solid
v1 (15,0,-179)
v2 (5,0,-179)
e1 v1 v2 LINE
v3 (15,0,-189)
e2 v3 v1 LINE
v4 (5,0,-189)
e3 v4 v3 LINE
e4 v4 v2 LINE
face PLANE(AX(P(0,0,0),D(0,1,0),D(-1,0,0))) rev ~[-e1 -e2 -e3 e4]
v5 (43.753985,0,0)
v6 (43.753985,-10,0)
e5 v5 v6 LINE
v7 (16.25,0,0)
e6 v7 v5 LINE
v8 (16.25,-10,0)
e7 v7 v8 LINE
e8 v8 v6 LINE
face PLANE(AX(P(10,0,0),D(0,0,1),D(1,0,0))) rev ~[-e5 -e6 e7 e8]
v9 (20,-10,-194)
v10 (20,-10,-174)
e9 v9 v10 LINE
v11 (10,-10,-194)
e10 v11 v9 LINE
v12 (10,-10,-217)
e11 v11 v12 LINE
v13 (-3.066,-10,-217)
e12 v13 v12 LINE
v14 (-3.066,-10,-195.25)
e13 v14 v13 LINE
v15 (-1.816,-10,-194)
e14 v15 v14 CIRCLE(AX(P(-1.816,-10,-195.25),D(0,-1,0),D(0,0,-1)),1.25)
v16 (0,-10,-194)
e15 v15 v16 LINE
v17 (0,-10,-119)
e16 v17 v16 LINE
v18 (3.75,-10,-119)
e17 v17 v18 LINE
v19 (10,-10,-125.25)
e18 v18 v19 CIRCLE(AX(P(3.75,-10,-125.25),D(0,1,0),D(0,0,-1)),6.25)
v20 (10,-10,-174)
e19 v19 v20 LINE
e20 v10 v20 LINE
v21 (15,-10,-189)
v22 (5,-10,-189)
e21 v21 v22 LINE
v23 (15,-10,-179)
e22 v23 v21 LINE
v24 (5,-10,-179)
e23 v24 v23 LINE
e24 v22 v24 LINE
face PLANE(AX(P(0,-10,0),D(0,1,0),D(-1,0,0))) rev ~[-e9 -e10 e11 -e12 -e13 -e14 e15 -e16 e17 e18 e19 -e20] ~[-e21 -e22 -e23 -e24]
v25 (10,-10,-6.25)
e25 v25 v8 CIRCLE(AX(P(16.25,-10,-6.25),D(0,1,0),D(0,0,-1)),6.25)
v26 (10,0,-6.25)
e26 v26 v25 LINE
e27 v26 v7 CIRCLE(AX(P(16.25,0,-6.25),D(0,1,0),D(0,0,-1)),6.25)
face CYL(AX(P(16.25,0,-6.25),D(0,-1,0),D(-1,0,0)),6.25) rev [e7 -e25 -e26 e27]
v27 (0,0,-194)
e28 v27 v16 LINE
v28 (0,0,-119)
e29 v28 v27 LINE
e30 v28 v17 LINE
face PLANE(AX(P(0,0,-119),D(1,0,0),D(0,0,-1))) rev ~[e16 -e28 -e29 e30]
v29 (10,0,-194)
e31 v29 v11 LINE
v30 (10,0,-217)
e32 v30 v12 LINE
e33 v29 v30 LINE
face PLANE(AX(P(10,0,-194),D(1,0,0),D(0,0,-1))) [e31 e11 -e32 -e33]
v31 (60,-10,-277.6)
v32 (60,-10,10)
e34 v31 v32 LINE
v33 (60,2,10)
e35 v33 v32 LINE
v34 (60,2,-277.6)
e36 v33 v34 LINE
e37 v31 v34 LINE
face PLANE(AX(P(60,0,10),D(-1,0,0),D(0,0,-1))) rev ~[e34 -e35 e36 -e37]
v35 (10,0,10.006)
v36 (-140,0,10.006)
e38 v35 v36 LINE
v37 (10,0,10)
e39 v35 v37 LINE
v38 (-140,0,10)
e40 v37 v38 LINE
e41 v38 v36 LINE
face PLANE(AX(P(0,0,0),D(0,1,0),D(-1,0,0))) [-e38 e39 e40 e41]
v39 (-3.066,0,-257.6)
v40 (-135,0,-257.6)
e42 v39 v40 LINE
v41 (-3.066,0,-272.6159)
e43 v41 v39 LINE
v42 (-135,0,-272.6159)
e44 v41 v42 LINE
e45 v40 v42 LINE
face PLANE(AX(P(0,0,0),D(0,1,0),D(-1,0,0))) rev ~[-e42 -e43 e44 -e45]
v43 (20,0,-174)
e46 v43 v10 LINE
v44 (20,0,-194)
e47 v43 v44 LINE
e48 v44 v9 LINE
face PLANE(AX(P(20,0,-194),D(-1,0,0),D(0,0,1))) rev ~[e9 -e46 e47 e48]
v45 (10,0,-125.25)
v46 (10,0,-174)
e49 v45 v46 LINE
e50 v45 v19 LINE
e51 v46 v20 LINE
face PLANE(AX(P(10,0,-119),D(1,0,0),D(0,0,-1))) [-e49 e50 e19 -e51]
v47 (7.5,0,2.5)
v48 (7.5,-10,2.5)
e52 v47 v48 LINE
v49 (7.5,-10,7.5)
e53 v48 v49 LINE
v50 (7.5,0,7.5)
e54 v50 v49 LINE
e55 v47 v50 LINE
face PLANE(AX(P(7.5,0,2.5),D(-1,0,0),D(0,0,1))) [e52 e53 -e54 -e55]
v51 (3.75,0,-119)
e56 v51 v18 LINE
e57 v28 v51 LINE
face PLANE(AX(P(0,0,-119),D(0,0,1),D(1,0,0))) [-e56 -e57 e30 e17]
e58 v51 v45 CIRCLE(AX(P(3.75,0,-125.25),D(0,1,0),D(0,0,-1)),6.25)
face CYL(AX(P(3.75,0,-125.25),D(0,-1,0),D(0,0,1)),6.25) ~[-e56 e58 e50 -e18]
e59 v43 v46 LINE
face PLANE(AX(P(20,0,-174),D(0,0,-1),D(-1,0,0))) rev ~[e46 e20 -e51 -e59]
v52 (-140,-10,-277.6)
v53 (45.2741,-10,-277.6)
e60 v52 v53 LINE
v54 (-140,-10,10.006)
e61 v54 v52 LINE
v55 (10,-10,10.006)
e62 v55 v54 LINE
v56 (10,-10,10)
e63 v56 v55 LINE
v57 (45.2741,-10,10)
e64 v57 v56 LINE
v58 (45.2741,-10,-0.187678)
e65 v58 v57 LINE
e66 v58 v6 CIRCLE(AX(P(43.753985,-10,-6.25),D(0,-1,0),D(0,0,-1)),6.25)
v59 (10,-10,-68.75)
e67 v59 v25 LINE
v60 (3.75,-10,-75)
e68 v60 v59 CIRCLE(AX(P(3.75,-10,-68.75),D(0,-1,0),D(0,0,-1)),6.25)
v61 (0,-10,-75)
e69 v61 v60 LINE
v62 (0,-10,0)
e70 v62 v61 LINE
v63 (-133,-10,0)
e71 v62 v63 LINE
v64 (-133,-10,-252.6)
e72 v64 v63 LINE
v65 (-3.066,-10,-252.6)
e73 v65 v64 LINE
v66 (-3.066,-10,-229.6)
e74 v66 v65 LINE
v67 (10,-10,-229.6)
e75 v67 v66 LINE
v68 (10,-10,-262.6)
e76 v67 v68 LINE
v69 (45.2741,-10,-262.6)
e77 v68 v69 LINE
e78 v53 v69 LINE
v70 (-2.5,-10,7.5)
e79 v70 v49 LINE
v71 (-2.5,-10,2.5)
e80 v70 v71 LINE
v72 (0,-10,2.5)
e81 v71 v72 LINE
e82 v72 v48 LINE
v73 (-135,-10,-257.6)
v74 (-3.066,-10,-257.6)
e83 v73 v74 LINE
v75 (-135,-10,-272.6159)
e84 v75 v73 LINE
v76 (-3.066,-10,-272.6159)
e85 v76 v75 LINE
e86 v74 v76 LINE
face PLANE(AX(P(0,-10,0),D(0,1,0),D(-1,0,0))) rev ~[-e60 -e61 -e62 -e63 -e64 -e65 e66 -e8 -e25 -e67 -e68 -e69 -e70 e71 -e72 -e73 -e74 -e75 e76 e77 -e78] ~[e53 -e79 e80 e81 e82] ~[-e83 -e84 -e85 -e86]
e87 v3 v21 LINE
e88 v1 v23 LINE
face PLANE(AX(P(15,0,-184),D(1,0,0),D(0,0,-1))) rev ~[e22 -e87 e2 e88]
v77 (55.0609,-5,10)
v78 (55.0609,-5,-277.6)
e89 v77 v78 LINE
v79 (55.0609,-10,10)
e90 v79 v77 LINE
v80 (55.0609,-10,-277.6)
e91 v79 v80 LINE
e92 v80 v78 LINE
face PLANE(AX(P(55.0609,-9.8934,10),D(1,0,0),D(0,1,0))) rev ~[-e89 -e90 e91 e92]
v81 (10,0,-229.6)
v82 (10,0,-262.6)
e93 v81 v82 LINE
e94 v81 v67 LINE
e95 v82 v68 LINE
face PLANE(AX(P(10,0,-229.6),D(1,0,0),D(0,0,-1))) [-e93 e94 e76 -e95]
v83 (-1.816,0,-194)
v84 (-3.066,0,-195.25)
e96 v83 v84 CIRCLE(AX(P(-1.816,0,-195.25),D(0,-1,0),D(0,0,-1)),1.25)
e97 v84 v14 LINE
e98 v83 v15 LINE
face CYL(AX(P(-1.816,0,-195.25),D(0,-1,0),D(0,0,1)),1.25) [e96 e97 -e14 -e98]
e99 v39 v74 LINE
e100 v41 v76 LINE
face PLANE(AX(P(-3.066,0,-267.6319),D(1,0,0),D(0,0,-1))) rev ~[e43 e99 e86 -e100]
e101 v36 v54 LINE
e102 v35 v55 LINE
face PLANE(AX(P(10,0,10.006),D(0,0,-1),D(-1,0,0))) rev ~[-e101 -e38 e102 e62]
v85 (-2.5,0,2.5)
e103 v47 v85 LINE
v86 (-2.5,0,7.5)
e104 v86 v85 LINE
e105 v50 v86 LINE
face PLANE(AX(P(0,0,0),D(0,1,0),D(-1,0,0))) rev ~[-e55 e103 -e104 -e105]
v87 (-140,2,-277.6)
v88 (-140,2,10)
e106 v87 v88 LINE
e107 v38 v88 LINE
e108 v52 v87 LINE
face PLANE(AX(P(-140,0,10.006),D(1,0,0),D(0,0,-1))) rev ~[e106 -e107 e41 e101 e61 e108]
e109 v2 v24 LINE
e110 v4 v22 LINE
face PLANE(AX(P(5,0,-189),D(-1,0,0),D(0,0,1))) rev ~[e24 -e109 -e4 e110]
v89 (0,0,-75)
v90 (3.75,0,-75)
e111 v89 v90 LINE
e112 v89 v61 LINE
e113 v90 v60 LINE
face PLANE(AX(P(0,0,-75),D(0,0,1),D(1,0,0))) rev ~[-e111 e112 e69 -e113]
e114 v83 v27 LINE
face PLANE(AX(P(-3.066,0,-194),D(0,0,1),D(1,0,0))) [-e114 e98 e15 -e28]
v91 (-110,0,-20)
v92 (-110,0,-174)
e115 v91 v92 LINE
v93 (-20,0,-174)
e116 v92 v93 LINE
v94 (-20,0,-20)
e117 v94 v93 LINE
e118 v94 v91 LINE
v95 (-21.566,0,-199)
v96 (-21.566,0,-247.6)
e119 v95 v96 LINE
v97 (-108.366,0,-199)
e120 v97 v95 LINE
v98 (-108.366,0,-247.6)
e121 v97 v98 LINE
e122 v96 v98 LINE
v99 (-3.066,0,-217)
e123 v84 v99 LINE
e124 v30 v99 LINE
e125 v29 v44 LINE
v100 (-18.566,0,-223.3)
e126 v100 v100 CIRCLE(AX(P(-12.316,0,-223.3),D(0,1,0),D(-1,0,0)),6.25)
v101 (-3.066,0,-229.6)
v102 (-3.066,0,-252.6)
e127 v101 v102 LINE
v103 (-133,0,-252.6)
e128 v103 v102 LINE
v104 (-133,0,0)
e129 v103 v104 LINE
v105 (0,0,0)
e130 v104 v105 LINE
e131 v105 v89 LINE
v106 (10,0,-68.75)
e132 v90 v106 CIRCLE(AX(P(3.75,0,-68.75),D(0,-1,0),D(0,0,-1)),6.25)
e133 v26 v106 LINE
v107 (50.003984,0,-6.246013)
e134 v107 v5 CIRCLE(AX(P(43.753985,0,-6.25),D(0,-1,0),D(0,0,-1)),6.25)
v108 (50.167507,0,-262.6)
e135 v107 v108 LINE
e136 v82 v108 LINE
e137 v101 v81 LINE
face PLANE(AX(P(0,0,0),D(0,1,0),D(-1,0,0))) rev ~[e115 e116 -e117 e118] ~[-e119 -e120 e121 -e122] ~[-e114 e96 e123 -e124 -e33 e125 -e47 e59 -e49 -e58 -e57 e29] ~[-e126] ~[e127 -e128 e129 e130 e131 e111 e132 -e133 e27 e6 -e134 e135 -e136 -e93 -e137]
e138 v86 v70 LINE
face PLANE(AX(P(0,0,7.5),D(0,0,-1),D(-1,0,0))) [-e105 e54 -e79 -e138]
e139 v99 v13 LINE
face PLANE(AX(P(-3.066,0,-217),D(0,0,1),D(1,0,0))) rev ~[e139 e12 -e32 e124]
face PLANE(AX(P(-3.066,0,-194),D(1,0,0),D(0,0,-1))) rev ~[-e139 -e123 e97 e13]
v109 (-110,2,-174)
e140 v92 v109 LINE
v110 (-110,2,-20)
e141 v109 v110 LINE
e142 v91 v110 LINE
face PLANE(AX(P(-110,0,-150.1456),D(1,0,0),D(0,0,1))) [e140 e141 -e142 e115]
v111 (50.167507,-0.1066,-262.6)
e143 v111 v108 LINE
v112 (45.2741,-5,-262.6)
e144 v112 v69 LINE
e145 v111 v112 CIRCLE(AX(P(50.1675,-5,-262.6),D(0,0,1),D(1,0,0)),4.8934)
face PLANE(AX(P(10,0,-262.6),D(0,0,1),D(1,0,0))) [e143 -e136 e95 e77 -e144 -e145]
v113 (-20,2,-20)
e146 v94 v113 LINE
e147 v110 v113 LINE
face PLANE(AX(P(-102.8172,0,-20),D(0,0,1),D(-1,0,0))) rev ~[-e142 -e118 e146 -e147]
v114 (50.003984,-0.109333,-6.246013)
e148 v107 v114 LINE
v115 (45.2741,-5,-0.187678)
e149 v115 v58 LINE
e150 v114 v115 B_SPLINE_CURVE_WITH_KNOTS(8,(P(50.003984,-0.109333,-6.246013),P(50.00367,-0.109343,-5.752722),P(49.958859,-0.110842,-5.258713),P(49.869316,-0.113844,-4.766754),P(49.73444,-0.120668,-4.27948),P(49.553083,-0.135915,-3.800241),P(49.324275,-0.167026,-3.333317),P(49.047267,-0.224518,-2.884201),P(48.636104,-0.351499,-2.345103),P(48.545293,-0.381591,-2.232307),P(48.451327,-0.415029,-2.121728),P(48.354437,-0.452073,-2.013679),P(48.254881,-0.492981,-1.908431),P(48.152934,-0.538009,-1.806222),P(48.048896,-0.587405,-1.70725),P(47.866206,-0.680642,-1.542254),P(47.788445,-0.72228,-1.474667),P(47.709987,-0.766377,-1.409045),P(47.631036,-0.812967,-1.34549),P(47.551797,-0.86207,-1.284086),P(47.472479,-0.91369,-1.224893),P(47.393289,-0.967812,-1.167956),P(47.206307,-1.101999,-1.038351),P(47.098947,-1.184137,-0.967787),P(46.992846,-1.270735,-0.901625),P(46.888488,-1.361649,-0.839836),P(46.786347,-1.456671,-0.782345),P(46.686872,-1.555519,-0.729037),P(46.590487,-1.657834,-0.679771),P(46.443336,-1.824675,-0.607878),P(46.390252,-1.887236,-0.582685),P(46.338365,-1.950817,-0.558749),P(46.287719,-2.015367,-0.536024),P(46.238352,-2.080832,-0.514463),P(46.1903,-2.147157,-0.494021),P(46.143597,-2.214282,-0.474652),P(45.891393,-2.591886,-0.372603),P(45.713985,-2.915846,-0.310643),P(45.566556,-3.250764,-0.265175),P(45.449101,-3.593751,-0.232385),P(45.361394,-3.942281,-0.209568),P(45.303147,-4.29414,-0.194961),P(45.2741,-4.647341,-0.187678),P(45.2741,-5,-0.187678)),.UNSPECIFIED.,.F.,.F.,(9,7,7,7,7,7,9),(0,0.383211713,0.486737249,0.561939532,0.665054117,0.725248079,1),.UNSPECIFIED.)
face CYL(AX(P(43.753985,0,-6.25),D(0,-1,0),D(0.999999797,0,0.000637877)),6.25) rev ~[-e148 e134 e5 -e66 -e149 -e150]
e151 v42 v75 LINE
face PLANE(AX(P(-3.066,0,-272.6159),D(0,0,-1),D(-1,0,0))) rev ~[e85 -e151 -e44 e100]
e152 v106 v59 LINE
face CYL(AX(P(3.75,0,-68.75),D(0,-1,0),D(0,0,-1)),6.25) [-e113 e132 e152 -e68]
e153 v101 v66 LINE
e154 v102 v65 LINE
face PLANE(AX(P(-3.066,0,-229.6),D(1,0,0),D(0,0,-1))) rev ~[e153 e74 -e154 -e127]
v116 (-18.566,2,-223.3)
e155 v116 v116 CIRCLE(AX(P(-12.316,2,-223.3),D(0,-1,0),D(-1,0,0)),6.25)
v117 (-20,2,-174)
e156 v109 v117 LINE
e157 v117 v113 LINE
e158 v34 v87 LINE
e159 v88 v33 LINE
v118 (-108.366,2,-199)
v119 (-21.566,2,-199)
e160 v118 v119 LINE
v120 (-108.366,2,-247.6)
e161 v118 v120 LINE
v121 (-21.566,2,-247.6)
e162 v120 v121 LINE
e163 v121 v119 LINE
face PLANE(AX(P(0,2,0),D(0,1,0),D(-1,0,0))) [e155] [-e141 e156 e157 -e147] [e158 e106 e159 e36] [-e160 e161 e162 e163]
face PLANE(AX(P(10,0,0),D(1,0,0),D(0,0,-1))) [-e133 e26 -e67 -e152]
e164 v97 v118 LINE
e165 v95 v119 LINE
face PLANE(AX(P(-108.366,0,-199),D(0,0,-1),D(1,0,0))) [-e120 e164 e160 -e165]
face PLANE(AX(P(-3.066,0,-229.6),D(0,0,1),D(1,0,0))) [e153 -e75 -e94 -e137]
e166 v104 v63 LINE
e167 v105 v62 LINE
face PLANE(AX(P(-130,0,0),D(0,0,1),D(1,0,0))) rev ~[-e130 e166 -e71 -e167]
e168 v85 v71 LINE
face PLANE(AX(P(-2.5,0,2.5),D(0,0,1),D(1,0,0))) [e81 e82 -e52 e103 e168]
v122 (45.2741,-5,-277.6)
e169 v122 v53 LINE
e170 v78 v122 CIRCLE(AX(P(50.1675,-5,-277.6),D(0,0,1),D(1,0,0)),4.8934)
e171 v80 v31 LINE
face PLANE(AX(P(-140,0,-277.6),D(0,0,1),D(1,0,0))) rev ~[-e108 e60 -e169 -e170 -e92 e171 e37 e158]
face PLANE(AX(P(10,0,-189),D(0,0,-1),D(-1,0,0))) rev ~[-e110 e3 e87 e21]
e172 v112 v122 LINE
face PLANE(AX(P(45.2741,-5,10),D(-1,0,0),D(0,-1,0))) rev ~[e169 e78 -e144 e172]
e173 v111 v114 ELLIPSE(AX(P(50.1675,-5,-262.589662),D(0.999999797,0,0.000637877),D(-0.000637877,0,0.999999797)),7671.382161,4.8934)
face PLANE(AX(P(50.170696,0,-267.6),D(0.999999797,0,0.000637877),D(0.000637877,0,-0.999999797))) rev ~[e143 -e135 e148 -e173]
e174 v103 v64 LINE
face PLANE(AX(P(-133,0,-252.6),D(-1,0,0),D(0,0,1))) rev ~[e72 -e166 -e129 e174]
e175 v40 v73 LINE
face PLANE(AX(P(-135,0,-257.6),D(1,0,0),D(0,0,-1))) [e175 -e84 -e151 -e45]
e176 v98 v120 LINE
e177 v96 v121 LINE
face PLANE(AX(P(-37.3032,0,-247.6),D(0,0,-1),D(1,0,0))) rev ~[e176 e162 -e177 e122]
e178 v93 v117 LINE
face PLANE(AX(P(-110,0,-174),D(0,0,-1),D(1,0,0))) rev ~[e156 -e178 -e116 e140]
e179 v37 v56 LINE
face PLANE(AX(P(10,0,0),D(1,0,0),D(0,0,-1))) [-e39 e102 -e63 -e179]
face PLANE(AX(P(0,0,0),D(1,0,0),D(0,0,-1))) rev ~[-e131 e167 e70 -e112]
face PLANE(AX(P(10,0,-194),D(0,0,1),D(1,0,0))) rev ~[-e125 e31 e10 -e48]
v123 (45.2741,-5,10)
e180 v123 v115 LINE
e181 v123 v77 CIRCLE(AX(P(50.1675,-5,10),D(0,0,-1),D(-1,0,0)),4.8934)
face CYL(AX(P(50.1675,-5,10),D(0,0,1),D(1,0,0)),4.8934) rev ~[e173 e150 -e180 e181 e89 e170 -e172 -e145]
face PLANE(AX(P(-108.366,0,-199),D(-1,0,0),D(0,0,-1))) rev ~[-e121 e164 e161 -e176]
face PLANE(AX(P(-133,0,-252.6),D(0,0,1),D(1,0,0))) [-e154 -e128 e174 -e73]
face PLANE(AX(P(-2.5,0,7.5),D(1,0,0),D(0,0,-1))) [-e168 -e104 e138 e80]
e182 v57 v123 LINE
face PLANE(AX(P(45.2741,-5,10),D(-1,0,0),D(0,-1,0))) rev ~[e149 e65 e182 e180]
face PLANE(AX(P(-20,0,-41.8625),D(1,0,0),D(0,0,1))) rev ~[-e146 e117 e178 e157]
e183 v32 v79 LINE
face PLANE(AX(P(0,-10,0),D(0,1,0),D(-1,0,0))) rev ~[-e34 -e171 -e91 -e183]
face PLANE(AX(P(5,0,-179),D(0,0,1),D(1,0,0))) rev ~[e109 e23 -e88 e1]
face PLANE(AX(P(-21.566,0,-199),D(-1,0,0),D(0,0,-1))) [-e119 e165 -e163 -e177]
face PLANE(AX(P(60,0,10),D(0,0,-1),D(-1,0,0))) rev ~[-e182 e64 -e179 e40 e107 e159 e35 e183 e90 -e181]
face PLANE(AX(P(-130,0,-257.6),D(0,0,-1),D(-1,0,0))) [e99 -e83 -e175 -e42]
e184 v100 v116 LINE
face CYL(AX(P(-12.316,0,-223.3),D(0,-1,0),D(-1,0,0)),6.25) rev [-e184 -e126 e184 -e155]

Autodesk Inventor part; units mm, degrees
ref_plane "YZ Plane" through (0, 0, 0) normal (1, 0, 0) x (0, 1, 0)
ref_plane "XZ Plane" through (0, 0, 0) normal (0, 1, 0) x (-1, 0, 0)
ref_plane "XY Plane" through (0, 0, 0) normal (0, 0, 1) x (1, 0, 0)
sketch "Sketch1" plane through (0, 0, 0) normal (0, 1, 0) x (-1, 0, 0)
  line L0 (0, 0) -> (0, -194)
  line L1 (0, -194) -> (130, -194)
  line L2 (130, -194) -> (130, 0)
  line L3 (130, 0) -> (0, 0)
  line L4 (0, -194) -> (123.8, -194)
  line L5 (126.866, -194) -> (126.866, -252.6)
  line L6 (126.866, -252.6) -> (3.066, -252.6)
  line L7 (3.066, -252.6) -> (3.066, -194)
  line L8 (140, 0) -> (140, -262.6)
  line L9 (140, -262.6) -> (0, -262.6)
  line L10 (140, 0) -> (140, 10)
  line L11 (-10, 0) -> (-10, -262.6)
  line L12 (-10, -262.6) -> (3.066, -262.6)
  line L13 (140, 10) -> (-10, 10)
  line L14 (-10, 10) -> (-10, 0)
  line L15 (-10, 10) -> (-60, 10)
  line L16 (-60, 10) -> (-60, -262.6)
  line L17 (-60, -262.6) -> (-10, -262.6)
  line L18 (108.366, -194) -> (108.366, -247.6)
  line L19 (21.566, -199) -> (21.566, -247.6)
  line L20 (110, -150.1456) -> (110, -20)
  line L21 (110, -174) -> (20, -174)
  line L22 (110, -174) -> (110, -150.1456)
  line L23 (102.8172, -20) -> (110, -20)
  line L24 (102.8172, -20) -> (20, -20)
  line L25 (20, -41.8625) -> (20, -20)
  line L26 (20, -41.8625) -> (20, -174)
  line L27 (21.566, -199) -> (21.566, -200.5)
  line L28 (108.366, -199) -> (21.566, -199)
  line L29 (108.366, -252.6) -> (108.366, -247.6)
  line L30 (108.366, -247.6) -> (21.566, -247.6)
  line L31 (21.566, -194) -> (12.316, -194)
  line L32 (12.316, -217.05) -> (12.316, -223.3)
  circle A0 centre (12.316, -223.3) radius 6.25
  line L33 (130, -194) -> (130, -252.6)
  line L34 (130, -252.6) -> (126.866, -252.6)
  line L35 (0, -194) -> (0, -252.6)
  line L36 (0, -252.6) -> (3.066, -252.6)
  line L37 (102.8172, -247.6) -> (102.8172, -267.6)
  line L38 (102.8172, -267.6) -> (140, -267.6)
  line L39 (140, -267.6) -> (140, -262.6)
  line L40 (102.8172, -267.6) -> (0, -267.6)
  line L41 (0, -267.6) -> (0, -252.6)
  line L42 (130, -252.6) -> (130, -267.6)
  line L43 (126.866, -252.6) -> (126.866, -267.6)
  line L44 (3.066, -252.6) -> (3.066, -267.6)
  line L45 (3.066, -194) -> (3.066, -217)
  line L46 (3.066, -252.6) -> (3.066, -229.6)
  line L47 (3.066, -217) -> (0, -217)
  line L48 (3.066, -229.6) -> (0, -229.6)
  line L49 (0, -217) -> (-10, -217)
  line L50 (0, -229.6) -> (-10, -229.55)
  line L51 (0, -267.6) -> (-60, -267.6)
  line L52 (-60, -267.6) -> (-60, -262.6)
  line L53 (-10, -262.6) -> (-10, -267.6)
  line L54 (-10, -194) -> (-20, -194)
  line L55 (-20, -194) -> (-20, -174)
  line L56 (-20, -174) -> (-10, -174)
  line L57 (-10, 0) -> (-10, -10)
  line L58 (-10, -10) -> (-20, -10)
  line L59 (-20, -10) -> (-20, 0)
  line L60 (37.3032, -247.6) -> (37.3032, -277.6)
  line L61 (37.3032, -277.6) -> (-60, -277.6)
  line L62 (-60, -277.6) -> (-60, -267.6)
  line L63 (140, -267.6) -> (140, -277.6)
  line L64 (140, -277.6) -> (37.3032, -277.6)
  dimension "d18" = 12.5
  dimension "d0" = 194
  dimension "d1" = 130
  dimension "d2" = 123.8
  dimension "d3" = 58.6
  dimension "d4" = 10
  dimension "d5" = 262.6
  dimension "d6" = 10
  dimension "d7" = 10
  dimension "d8" = 50
  dimension "d14" = 6.5
  dimension "d15" = 5
  dimension "d16" = 5
  dimension "d17" = 9.25
  dimension "d19" = 20
  dimension "d29" = 23
  dimension "d30" = 23
  dimension "d46" = 10
  dimension "d47" = 10
  dimension "d55" = 30
sketch "Sketch2" plane through (0, 0, 0) normal (0, 1, 0) x (-1, 0, 0)
  line L0 (0, 0) -> (0, -194)
  line L1 (0, -194) -> (0, -109)
  line L2 (0, 0) -> (0, -75)
  line L3 (0, -194) -> (0, -119)
  line L4 (0, -119) -> (-10, -119)
  line L5 (-10, -119) -> (-10, -194)
  line L6 (-10, -194) -> (0, -194)
  line L7 (0, -75) -> (-10, -75)
  line L8 (0, 0) -> (-10, 0)
  line L9 (-10, 0) -> (-10, -75)
  line L10 (-10, -262.6) -> (0, -262.6)
  line L11 (0, -262.6) -> (0, -194)
  line L12 (-10, -194) -> (-10, -262.6)
  line L13 (0, -194) -> (0, -262.6)
  line L14 (0, -262.6) -> (3.066, -262.6)
  line L15 (3.066, -262.6) -> (3.066, -252.6)
  line L16 (3.066, -252.6) -> (0, -252.6)
  line L17 (0, -252.6) -> (0, -194)
  line L18 (3.066, -194) -> (3.066, -252.6)
  line L19 (3.066, -252.6) -> (3.066, -224.05)
  line L20 (3.066, -252.6) -> (3.066, -229.6)
  line L21 (3.066, -194) -> (3.066, -217)
  line L22 (3.066, -217) -> (0, -217)
  line L23 (3.066, -229.6) -> (0, -229.6)
  line L24 (0, -217) -> (-10, -217)
  line L25 (0, -229.6) -> (-10, -229.6)
  line L26 (3.066, -252.6) -> (126.866, -252.6)
  line L27 (126.866, -252.6) -> (126.866, -262.6)
  line L28 (126.866, -262.6) -> (3.066, -262.6)
  line L29 (3.066, -252.6) -> (3.066, -262.6)
  line L30 (126.866, -252.6) -> (130, -252.6)
  line L31 (130, -252.6) -> (130, -262.6)
  line L32 (130, -262.6) -> (126.866, -262.6)
  line L33 (130, -252.6) -> (130, 0)
  line L34 (130, 0) -> (0, 0)
  line L35 (130, 0) -> (140, 0)
  line L36 (140, 0) -> (140, -194)
  line L37 (140, -194) -> (140, -252.6)
  line L38 (140, -252.6) -> (130, -252.6)
  line L39 (140, -267.6319) -> (140, -252.6)
  line L40 (140, -267.6319) -> (-10, -267.6319)
  line L41 (-10, -267.6319) -> (-10, -229.6)
  line L42 (-10, 10.006) -> (140, 10.006)
  line L43 (140, 10.006) -> (140, 0)
  line L44 (-10, 10.006) -> (-10, 0)
  line L45 (-10, -75) -> (-10, 0)
  line L46 (0, 0) -> (-10, 0)
  line L47 (0, 0) -> (0, -75)
  line L48 (-10, -75) -> (0, -75)
  line L49 (0, -119) -> (-10, -119)
  line L50 (-10, -194) -> (0, -194)
  line L51 (0, -119) -> (0, -194)
  line L52 (-10, -194) -> (-10, -119)
  line L53 (3.066, -194) -> (0, -194)
  line L54 (3.066, -194) -> (3.066, -217)
  line L55 (-10, -217) -> (3.066, -217)
  line L56 (-10, -217) -> (-10, -194)
  line L57 (-10, -229.6) -> (-10, -267.6319)
  line L58 (3.066, -267.6319) -> (3.066, -229.6)
  line L59 (3.066, -229.6) -> (-9.4866, -229.6)
  line L60 (0, -194) -> (0, 0)
  line L61 (-10, -194) -> (-20, -194)
  line L62 (-20, -194) -> (-20, -184)
  line L63 (-20, -184) -> (-10, -184)
  line L64 (-20, -184) -> (-20, -174)
  line L65 (-20, -174) -> (-10, -174)
  line L66 (-10, -184) -> (-10, -189)
  line L67 (-5, -189) -> (-5, -179)
  line L68 (-5, -179) -> (-15, -179)
  line L69 (-15, -179) -> (-15, -189)
  line L70 (-15, -189) -> (-5, -189)
  line L71 (0, 0) -> (0, 2.5)
  line L72 (0, 2.5) -> (-7.5, 2.5)
  line L73 (-7.5, 2.5) -> (-7.5, 7.5)
  line L74 (-7.5, 7.5) -> (0, 7.5)
  line L75 (0, 7.5) -> (2.5, 7.5)
  line L76 (2.5, 7.5) -> (2.5, 2.5)
  line L77 (2.5, 2.5) -> (0, 2.5)
  line L78 (-10, -282.6) -> (-10, -267.6319)
  line L79 (50.7455, -277.6) -> (-5, -277.6)
  line L80 (-5, -277.6) -> (-5, -257.6)
  line L81 (-5, -257.6) -> (50.7455, -257.6)
  line L82 (50.7455, -257.6) -> (135, -257.6)
  line L83 (135, -257.6) -> (135, -277.6)
  line L84 (135, -277.6) -> (50.7455, -277.6)
  line L85 (140, -277.6) -> (-60, -277.6)
  line L86 (-60, -277.6) -> (-60, -262.6)
  line L87 (-10, -262.6) -> (-60, -262.6)
  line L88 (140, -277.6) -> (140, -267.6319)
  line L89 (3.066, -267.6319) -> (3.066, -272.6159)
  line L90 (3.066, -272.6159) -> (135, -272.6159)
  line L91 (130, -252.6) -> (133, -252.6)
  line L92 (133, -252.6) -> (133, 0)
  line L93 (133, 0) -> (130, 0)
  point P0 (-10, -277.6)
  point P1 (135, -267.6319)
  point P2 (-5, -267.6319)
  point P3 (3.066, -257.6)
  dimension "d22" = 75
  dimension "d23" = 75
  dimension "d24" = 10
  dimension "d25" = 262.6
  dimension "d27" = 23
  dimension "d28" = 23
  dimension "d48" = 10
  dimension "d49" = 10
  dimension "d50" = 10
  dimension "d51" = 2.5
  dimension "d52" = 7.5
  dimension "d53" = 5
  dimension "d54" = 2.5
  dimension "d67" = 3
extrude "Extrusion1" add sketch "Sketch2" against normal blind 10 contours L0 L7 L9 L8 | L8 L44 L42 L43 L35 L34 | L31 L82 L27 L30 | L38 L39 L40 L83 L82 L31 | L35 L36 L37 L38 L92 | L0 L6 L5 L70 L67 L68 L4 | L27 L82 L81 L15 L26 | L11 L24 L12 L6 | L53 L18 L22 L11 | L15 L81 L11 L16 | L16 L11 L23 L18 | L61 L62 L63 L69 L70 L5 | L5 L68 L69 L63 L64 L65 | L15 L14 L11 L81 | L11 L81 L80 L10 L12 L25 | L40 L88 L85 L83 | L58 L40 L80 L10 L14 | L11 L10 L80 L81 | L89 L90 L83 L84 L79 L80 L40 | L80 L85 L78 L40 | L40 L41 L10 L80 | L41 L78 L85 L86 L87
extrude "Extrusion2" add sketch "Sketch1" along normal blind 2 contours L3 L2 L1 L0 | L0 L35 L49 L11 L14 L13 L10 L8 L9 L42 L33 L2 L3 | L1 L7 L47 L35 | L1 L18 L28 L19 L30 L60 L6 L7 | L47 L7 L48 L35 | L35 L50 L11 L49 | L33 L34 L5 L1 | L48 L7 L36 L35 | L35 L41 L12 L11 L50 | L11 L17 L16 L15 L14 L56 L55 L54 | L5 L6 L29 L18 L1 | L42 L9 L43 L34 | L36 L44 L9 L41 | L54 L55 L56 L11 | L43 L9 L37 L6 | L42 L38 L43 L9 | L9 L39 L38 L42 | L6 L60 L9 L44 | L41 L51 L53 L12 | L9 L44 L40 L41 | L53 L51 L52 L17 | L6 L37 L30 L29 | L43 L38 L37 L9 | L38 L63 L64 L60 L40 | L60 L30 L37 L6 | L6 L37 L9 L60 | L9 L60 L40 L44 | L40 L60 L61 L62 L51 | L37 L40 L60 L9
sketch "Sketch3" plane through (0, 0, 0) normal (0, -1, 0) x (1, 0, 0)
  line L0 (10, -262.6) -> (10, -194) projected
  line L1 (60, -267.6) -> (-140, -267.6) projected
  line L2 (10, -267.6319) -> (60, -267.6)
  line L3 (60, 10) -> (60, -267.6) projected
  line L4 (60, -267.6) -> (60, 10)
  line L5 (10, 10) -> (10, -75) projected
  line L6 (60, 10) -> (10, 10)
  line L7 (10, 10) -> (10, 0)
  line L8 (10, 0) -> (60, 0)
  line L9 (60, 0) -> (50, 0)
  line L10 (50, 0) -> (50.1707, -267.6063)
  line L11 (50.1707, -267.6063) -> (50.1643, -257.6063)
  line L12 (50.1643, -257.6063) -> (10, -257.6319)
  line L13 (50.1643, -257.6063) -> (60, -257.6063)
  point P0 (0, 0)
  point P1 (10, -229.6)
  point P2 (10, -267.6)
  point P3 (50.1707, -267.6)
  dimension "d35" = 10
  dimension "d36" = 10
extrude "Extrusion3" add sketch "Sketch3" along normal blind 10
fillet "Fillet2" radius 6.25 4 edges at (10, -5, -75) (10, -5, -119) (10, -5, 0) (50, -5, 0)
fillet "Fillet3" radius 1.25 1 edges at (-3.066, -5, -194)
sketch "Sketch8" plane through (-140, 2, 10) normal (0, 0, 1) x (1, 0, 0)
  line L0 (190.1675, -12) -> (190.1675, -2) projected
  circle A0 centre (190.1675, -7) radius 4.8934
  line L1 (185.2741, -7) -> (185.2741, -11.8934)
  line L2 (185.2741, -11.8934) -> (195.0609, -11.8934)
  line L3 (195.0609, -11.8934) -> (195.0609, -7)
  line L4 (185.2741, -11.8934) -> (185.2741, -12.5715)
  line L5 (185.2741, -12.5715) -> (195.0609, -12.5715)
  line L6 (195.0609, -12.5715) -> (195.0609, -11.8934)
  point P0 (140, -2)
extrude "Extrusion7" cut sketch "Sketch8" against normal blind 299.5
sketch "Sketch9" plane through (0, -10, 0) normal (0, -1, 0) x (1, 0, 0)
  line L0 (-135, -272.6159) -> (-135, -257.6) projected
  line L1 (-135, -272.6159) -> (-135, -257.6)
  line L2 (-135, -257.6) -> (-3.066, -257.6)
  line L3 (-3.066, -257.6) -> (-3.066, -272.6159)
  line L4 (-3.066, -272.6159) -> (-135, -272.6159) projected
  line L5 (-3.066, -272.6159) -> (-135, -272.6159)
  line L6 (5, -189) -> (15, -189) projected
  line L7 (5, -179) -> (5, -189) projected
  line L8 (5, -189) -> (5, -179)
  line L9 (5, -179) -> (15.0244, -179)
  line L10 (15.0244, -179) -> (15.0244, -189)
  line L11 (15.0244, -189) -> (5, -189)
  line L12 (-2.5, 2.5) -> (7.5, 2.5) projected
  line L13 (-2.5, 7.5) -> (-2.5, 2.5) projected
  line L14 (-2.5, 2.5) -> (-2.5, 7.5)
  line L15 (5, -189) -> (5, -188.5)
  line L16 (14.5, -188.5) -> (14.5, -179.5)
  line L17 (14.5, -179.5) -> (5.5, -179.5)
  line L18 (5.5, -179.5) -> (5.5, -188.5)
  line L19 (5.5, -188.5) -> (14.5, -188.5)
  line L20 (60, -277.6) -> (-140, -277.6) projected
  line L21 (-3.566, -271.6357) -> (-3.566, -258.1)
  line L22 (-3.566, -271.6357) -> (-3.566, -272.1159)
  line L23 (-134.5, -271.0768) -> (-134.5, -272.1159)
  line L24 (-134.5, -271.0768) -> (-134.5, -258.1)
  line L25 (-134.5, -272.1159) -> (-3.566, -272.1159)
  line L26 (-3.566, -258.1) -> (-134.5, -258.1)
  line L27 (7.5, 7.5) -> (7.5, 2.5) projected
  line L28 (7.5, 2.5) -> (7.5, 7.5)
  line L29 (-2.5, 2.5) -> (7.5, 2.5)
  line L30 (7.5, 7.5) -> (-2.5, 7.5)
  line L31 (-2.5, 7.5) -> (-2.5, 7)
  line L32 (-2, 7) -> (7, 7)
  line L33 (-2, 3) -> (-2, 7)
  line L34 (7.5, 7.5) -> (7, 7.5)
  line L35 (7, 7) -> (7, 3)
  line L36 (7.5, 2.5) -> (7.5, 3)
  line L37 (7, 3) -> (-2, 3)
  point P0 (0, 0)
  dimension "d68" = 0.5
  dimension "d69" = 9.5
  dimension "d70" = 9
  dimension "d71" = 9
properties part number "iphone-playbook dock"
